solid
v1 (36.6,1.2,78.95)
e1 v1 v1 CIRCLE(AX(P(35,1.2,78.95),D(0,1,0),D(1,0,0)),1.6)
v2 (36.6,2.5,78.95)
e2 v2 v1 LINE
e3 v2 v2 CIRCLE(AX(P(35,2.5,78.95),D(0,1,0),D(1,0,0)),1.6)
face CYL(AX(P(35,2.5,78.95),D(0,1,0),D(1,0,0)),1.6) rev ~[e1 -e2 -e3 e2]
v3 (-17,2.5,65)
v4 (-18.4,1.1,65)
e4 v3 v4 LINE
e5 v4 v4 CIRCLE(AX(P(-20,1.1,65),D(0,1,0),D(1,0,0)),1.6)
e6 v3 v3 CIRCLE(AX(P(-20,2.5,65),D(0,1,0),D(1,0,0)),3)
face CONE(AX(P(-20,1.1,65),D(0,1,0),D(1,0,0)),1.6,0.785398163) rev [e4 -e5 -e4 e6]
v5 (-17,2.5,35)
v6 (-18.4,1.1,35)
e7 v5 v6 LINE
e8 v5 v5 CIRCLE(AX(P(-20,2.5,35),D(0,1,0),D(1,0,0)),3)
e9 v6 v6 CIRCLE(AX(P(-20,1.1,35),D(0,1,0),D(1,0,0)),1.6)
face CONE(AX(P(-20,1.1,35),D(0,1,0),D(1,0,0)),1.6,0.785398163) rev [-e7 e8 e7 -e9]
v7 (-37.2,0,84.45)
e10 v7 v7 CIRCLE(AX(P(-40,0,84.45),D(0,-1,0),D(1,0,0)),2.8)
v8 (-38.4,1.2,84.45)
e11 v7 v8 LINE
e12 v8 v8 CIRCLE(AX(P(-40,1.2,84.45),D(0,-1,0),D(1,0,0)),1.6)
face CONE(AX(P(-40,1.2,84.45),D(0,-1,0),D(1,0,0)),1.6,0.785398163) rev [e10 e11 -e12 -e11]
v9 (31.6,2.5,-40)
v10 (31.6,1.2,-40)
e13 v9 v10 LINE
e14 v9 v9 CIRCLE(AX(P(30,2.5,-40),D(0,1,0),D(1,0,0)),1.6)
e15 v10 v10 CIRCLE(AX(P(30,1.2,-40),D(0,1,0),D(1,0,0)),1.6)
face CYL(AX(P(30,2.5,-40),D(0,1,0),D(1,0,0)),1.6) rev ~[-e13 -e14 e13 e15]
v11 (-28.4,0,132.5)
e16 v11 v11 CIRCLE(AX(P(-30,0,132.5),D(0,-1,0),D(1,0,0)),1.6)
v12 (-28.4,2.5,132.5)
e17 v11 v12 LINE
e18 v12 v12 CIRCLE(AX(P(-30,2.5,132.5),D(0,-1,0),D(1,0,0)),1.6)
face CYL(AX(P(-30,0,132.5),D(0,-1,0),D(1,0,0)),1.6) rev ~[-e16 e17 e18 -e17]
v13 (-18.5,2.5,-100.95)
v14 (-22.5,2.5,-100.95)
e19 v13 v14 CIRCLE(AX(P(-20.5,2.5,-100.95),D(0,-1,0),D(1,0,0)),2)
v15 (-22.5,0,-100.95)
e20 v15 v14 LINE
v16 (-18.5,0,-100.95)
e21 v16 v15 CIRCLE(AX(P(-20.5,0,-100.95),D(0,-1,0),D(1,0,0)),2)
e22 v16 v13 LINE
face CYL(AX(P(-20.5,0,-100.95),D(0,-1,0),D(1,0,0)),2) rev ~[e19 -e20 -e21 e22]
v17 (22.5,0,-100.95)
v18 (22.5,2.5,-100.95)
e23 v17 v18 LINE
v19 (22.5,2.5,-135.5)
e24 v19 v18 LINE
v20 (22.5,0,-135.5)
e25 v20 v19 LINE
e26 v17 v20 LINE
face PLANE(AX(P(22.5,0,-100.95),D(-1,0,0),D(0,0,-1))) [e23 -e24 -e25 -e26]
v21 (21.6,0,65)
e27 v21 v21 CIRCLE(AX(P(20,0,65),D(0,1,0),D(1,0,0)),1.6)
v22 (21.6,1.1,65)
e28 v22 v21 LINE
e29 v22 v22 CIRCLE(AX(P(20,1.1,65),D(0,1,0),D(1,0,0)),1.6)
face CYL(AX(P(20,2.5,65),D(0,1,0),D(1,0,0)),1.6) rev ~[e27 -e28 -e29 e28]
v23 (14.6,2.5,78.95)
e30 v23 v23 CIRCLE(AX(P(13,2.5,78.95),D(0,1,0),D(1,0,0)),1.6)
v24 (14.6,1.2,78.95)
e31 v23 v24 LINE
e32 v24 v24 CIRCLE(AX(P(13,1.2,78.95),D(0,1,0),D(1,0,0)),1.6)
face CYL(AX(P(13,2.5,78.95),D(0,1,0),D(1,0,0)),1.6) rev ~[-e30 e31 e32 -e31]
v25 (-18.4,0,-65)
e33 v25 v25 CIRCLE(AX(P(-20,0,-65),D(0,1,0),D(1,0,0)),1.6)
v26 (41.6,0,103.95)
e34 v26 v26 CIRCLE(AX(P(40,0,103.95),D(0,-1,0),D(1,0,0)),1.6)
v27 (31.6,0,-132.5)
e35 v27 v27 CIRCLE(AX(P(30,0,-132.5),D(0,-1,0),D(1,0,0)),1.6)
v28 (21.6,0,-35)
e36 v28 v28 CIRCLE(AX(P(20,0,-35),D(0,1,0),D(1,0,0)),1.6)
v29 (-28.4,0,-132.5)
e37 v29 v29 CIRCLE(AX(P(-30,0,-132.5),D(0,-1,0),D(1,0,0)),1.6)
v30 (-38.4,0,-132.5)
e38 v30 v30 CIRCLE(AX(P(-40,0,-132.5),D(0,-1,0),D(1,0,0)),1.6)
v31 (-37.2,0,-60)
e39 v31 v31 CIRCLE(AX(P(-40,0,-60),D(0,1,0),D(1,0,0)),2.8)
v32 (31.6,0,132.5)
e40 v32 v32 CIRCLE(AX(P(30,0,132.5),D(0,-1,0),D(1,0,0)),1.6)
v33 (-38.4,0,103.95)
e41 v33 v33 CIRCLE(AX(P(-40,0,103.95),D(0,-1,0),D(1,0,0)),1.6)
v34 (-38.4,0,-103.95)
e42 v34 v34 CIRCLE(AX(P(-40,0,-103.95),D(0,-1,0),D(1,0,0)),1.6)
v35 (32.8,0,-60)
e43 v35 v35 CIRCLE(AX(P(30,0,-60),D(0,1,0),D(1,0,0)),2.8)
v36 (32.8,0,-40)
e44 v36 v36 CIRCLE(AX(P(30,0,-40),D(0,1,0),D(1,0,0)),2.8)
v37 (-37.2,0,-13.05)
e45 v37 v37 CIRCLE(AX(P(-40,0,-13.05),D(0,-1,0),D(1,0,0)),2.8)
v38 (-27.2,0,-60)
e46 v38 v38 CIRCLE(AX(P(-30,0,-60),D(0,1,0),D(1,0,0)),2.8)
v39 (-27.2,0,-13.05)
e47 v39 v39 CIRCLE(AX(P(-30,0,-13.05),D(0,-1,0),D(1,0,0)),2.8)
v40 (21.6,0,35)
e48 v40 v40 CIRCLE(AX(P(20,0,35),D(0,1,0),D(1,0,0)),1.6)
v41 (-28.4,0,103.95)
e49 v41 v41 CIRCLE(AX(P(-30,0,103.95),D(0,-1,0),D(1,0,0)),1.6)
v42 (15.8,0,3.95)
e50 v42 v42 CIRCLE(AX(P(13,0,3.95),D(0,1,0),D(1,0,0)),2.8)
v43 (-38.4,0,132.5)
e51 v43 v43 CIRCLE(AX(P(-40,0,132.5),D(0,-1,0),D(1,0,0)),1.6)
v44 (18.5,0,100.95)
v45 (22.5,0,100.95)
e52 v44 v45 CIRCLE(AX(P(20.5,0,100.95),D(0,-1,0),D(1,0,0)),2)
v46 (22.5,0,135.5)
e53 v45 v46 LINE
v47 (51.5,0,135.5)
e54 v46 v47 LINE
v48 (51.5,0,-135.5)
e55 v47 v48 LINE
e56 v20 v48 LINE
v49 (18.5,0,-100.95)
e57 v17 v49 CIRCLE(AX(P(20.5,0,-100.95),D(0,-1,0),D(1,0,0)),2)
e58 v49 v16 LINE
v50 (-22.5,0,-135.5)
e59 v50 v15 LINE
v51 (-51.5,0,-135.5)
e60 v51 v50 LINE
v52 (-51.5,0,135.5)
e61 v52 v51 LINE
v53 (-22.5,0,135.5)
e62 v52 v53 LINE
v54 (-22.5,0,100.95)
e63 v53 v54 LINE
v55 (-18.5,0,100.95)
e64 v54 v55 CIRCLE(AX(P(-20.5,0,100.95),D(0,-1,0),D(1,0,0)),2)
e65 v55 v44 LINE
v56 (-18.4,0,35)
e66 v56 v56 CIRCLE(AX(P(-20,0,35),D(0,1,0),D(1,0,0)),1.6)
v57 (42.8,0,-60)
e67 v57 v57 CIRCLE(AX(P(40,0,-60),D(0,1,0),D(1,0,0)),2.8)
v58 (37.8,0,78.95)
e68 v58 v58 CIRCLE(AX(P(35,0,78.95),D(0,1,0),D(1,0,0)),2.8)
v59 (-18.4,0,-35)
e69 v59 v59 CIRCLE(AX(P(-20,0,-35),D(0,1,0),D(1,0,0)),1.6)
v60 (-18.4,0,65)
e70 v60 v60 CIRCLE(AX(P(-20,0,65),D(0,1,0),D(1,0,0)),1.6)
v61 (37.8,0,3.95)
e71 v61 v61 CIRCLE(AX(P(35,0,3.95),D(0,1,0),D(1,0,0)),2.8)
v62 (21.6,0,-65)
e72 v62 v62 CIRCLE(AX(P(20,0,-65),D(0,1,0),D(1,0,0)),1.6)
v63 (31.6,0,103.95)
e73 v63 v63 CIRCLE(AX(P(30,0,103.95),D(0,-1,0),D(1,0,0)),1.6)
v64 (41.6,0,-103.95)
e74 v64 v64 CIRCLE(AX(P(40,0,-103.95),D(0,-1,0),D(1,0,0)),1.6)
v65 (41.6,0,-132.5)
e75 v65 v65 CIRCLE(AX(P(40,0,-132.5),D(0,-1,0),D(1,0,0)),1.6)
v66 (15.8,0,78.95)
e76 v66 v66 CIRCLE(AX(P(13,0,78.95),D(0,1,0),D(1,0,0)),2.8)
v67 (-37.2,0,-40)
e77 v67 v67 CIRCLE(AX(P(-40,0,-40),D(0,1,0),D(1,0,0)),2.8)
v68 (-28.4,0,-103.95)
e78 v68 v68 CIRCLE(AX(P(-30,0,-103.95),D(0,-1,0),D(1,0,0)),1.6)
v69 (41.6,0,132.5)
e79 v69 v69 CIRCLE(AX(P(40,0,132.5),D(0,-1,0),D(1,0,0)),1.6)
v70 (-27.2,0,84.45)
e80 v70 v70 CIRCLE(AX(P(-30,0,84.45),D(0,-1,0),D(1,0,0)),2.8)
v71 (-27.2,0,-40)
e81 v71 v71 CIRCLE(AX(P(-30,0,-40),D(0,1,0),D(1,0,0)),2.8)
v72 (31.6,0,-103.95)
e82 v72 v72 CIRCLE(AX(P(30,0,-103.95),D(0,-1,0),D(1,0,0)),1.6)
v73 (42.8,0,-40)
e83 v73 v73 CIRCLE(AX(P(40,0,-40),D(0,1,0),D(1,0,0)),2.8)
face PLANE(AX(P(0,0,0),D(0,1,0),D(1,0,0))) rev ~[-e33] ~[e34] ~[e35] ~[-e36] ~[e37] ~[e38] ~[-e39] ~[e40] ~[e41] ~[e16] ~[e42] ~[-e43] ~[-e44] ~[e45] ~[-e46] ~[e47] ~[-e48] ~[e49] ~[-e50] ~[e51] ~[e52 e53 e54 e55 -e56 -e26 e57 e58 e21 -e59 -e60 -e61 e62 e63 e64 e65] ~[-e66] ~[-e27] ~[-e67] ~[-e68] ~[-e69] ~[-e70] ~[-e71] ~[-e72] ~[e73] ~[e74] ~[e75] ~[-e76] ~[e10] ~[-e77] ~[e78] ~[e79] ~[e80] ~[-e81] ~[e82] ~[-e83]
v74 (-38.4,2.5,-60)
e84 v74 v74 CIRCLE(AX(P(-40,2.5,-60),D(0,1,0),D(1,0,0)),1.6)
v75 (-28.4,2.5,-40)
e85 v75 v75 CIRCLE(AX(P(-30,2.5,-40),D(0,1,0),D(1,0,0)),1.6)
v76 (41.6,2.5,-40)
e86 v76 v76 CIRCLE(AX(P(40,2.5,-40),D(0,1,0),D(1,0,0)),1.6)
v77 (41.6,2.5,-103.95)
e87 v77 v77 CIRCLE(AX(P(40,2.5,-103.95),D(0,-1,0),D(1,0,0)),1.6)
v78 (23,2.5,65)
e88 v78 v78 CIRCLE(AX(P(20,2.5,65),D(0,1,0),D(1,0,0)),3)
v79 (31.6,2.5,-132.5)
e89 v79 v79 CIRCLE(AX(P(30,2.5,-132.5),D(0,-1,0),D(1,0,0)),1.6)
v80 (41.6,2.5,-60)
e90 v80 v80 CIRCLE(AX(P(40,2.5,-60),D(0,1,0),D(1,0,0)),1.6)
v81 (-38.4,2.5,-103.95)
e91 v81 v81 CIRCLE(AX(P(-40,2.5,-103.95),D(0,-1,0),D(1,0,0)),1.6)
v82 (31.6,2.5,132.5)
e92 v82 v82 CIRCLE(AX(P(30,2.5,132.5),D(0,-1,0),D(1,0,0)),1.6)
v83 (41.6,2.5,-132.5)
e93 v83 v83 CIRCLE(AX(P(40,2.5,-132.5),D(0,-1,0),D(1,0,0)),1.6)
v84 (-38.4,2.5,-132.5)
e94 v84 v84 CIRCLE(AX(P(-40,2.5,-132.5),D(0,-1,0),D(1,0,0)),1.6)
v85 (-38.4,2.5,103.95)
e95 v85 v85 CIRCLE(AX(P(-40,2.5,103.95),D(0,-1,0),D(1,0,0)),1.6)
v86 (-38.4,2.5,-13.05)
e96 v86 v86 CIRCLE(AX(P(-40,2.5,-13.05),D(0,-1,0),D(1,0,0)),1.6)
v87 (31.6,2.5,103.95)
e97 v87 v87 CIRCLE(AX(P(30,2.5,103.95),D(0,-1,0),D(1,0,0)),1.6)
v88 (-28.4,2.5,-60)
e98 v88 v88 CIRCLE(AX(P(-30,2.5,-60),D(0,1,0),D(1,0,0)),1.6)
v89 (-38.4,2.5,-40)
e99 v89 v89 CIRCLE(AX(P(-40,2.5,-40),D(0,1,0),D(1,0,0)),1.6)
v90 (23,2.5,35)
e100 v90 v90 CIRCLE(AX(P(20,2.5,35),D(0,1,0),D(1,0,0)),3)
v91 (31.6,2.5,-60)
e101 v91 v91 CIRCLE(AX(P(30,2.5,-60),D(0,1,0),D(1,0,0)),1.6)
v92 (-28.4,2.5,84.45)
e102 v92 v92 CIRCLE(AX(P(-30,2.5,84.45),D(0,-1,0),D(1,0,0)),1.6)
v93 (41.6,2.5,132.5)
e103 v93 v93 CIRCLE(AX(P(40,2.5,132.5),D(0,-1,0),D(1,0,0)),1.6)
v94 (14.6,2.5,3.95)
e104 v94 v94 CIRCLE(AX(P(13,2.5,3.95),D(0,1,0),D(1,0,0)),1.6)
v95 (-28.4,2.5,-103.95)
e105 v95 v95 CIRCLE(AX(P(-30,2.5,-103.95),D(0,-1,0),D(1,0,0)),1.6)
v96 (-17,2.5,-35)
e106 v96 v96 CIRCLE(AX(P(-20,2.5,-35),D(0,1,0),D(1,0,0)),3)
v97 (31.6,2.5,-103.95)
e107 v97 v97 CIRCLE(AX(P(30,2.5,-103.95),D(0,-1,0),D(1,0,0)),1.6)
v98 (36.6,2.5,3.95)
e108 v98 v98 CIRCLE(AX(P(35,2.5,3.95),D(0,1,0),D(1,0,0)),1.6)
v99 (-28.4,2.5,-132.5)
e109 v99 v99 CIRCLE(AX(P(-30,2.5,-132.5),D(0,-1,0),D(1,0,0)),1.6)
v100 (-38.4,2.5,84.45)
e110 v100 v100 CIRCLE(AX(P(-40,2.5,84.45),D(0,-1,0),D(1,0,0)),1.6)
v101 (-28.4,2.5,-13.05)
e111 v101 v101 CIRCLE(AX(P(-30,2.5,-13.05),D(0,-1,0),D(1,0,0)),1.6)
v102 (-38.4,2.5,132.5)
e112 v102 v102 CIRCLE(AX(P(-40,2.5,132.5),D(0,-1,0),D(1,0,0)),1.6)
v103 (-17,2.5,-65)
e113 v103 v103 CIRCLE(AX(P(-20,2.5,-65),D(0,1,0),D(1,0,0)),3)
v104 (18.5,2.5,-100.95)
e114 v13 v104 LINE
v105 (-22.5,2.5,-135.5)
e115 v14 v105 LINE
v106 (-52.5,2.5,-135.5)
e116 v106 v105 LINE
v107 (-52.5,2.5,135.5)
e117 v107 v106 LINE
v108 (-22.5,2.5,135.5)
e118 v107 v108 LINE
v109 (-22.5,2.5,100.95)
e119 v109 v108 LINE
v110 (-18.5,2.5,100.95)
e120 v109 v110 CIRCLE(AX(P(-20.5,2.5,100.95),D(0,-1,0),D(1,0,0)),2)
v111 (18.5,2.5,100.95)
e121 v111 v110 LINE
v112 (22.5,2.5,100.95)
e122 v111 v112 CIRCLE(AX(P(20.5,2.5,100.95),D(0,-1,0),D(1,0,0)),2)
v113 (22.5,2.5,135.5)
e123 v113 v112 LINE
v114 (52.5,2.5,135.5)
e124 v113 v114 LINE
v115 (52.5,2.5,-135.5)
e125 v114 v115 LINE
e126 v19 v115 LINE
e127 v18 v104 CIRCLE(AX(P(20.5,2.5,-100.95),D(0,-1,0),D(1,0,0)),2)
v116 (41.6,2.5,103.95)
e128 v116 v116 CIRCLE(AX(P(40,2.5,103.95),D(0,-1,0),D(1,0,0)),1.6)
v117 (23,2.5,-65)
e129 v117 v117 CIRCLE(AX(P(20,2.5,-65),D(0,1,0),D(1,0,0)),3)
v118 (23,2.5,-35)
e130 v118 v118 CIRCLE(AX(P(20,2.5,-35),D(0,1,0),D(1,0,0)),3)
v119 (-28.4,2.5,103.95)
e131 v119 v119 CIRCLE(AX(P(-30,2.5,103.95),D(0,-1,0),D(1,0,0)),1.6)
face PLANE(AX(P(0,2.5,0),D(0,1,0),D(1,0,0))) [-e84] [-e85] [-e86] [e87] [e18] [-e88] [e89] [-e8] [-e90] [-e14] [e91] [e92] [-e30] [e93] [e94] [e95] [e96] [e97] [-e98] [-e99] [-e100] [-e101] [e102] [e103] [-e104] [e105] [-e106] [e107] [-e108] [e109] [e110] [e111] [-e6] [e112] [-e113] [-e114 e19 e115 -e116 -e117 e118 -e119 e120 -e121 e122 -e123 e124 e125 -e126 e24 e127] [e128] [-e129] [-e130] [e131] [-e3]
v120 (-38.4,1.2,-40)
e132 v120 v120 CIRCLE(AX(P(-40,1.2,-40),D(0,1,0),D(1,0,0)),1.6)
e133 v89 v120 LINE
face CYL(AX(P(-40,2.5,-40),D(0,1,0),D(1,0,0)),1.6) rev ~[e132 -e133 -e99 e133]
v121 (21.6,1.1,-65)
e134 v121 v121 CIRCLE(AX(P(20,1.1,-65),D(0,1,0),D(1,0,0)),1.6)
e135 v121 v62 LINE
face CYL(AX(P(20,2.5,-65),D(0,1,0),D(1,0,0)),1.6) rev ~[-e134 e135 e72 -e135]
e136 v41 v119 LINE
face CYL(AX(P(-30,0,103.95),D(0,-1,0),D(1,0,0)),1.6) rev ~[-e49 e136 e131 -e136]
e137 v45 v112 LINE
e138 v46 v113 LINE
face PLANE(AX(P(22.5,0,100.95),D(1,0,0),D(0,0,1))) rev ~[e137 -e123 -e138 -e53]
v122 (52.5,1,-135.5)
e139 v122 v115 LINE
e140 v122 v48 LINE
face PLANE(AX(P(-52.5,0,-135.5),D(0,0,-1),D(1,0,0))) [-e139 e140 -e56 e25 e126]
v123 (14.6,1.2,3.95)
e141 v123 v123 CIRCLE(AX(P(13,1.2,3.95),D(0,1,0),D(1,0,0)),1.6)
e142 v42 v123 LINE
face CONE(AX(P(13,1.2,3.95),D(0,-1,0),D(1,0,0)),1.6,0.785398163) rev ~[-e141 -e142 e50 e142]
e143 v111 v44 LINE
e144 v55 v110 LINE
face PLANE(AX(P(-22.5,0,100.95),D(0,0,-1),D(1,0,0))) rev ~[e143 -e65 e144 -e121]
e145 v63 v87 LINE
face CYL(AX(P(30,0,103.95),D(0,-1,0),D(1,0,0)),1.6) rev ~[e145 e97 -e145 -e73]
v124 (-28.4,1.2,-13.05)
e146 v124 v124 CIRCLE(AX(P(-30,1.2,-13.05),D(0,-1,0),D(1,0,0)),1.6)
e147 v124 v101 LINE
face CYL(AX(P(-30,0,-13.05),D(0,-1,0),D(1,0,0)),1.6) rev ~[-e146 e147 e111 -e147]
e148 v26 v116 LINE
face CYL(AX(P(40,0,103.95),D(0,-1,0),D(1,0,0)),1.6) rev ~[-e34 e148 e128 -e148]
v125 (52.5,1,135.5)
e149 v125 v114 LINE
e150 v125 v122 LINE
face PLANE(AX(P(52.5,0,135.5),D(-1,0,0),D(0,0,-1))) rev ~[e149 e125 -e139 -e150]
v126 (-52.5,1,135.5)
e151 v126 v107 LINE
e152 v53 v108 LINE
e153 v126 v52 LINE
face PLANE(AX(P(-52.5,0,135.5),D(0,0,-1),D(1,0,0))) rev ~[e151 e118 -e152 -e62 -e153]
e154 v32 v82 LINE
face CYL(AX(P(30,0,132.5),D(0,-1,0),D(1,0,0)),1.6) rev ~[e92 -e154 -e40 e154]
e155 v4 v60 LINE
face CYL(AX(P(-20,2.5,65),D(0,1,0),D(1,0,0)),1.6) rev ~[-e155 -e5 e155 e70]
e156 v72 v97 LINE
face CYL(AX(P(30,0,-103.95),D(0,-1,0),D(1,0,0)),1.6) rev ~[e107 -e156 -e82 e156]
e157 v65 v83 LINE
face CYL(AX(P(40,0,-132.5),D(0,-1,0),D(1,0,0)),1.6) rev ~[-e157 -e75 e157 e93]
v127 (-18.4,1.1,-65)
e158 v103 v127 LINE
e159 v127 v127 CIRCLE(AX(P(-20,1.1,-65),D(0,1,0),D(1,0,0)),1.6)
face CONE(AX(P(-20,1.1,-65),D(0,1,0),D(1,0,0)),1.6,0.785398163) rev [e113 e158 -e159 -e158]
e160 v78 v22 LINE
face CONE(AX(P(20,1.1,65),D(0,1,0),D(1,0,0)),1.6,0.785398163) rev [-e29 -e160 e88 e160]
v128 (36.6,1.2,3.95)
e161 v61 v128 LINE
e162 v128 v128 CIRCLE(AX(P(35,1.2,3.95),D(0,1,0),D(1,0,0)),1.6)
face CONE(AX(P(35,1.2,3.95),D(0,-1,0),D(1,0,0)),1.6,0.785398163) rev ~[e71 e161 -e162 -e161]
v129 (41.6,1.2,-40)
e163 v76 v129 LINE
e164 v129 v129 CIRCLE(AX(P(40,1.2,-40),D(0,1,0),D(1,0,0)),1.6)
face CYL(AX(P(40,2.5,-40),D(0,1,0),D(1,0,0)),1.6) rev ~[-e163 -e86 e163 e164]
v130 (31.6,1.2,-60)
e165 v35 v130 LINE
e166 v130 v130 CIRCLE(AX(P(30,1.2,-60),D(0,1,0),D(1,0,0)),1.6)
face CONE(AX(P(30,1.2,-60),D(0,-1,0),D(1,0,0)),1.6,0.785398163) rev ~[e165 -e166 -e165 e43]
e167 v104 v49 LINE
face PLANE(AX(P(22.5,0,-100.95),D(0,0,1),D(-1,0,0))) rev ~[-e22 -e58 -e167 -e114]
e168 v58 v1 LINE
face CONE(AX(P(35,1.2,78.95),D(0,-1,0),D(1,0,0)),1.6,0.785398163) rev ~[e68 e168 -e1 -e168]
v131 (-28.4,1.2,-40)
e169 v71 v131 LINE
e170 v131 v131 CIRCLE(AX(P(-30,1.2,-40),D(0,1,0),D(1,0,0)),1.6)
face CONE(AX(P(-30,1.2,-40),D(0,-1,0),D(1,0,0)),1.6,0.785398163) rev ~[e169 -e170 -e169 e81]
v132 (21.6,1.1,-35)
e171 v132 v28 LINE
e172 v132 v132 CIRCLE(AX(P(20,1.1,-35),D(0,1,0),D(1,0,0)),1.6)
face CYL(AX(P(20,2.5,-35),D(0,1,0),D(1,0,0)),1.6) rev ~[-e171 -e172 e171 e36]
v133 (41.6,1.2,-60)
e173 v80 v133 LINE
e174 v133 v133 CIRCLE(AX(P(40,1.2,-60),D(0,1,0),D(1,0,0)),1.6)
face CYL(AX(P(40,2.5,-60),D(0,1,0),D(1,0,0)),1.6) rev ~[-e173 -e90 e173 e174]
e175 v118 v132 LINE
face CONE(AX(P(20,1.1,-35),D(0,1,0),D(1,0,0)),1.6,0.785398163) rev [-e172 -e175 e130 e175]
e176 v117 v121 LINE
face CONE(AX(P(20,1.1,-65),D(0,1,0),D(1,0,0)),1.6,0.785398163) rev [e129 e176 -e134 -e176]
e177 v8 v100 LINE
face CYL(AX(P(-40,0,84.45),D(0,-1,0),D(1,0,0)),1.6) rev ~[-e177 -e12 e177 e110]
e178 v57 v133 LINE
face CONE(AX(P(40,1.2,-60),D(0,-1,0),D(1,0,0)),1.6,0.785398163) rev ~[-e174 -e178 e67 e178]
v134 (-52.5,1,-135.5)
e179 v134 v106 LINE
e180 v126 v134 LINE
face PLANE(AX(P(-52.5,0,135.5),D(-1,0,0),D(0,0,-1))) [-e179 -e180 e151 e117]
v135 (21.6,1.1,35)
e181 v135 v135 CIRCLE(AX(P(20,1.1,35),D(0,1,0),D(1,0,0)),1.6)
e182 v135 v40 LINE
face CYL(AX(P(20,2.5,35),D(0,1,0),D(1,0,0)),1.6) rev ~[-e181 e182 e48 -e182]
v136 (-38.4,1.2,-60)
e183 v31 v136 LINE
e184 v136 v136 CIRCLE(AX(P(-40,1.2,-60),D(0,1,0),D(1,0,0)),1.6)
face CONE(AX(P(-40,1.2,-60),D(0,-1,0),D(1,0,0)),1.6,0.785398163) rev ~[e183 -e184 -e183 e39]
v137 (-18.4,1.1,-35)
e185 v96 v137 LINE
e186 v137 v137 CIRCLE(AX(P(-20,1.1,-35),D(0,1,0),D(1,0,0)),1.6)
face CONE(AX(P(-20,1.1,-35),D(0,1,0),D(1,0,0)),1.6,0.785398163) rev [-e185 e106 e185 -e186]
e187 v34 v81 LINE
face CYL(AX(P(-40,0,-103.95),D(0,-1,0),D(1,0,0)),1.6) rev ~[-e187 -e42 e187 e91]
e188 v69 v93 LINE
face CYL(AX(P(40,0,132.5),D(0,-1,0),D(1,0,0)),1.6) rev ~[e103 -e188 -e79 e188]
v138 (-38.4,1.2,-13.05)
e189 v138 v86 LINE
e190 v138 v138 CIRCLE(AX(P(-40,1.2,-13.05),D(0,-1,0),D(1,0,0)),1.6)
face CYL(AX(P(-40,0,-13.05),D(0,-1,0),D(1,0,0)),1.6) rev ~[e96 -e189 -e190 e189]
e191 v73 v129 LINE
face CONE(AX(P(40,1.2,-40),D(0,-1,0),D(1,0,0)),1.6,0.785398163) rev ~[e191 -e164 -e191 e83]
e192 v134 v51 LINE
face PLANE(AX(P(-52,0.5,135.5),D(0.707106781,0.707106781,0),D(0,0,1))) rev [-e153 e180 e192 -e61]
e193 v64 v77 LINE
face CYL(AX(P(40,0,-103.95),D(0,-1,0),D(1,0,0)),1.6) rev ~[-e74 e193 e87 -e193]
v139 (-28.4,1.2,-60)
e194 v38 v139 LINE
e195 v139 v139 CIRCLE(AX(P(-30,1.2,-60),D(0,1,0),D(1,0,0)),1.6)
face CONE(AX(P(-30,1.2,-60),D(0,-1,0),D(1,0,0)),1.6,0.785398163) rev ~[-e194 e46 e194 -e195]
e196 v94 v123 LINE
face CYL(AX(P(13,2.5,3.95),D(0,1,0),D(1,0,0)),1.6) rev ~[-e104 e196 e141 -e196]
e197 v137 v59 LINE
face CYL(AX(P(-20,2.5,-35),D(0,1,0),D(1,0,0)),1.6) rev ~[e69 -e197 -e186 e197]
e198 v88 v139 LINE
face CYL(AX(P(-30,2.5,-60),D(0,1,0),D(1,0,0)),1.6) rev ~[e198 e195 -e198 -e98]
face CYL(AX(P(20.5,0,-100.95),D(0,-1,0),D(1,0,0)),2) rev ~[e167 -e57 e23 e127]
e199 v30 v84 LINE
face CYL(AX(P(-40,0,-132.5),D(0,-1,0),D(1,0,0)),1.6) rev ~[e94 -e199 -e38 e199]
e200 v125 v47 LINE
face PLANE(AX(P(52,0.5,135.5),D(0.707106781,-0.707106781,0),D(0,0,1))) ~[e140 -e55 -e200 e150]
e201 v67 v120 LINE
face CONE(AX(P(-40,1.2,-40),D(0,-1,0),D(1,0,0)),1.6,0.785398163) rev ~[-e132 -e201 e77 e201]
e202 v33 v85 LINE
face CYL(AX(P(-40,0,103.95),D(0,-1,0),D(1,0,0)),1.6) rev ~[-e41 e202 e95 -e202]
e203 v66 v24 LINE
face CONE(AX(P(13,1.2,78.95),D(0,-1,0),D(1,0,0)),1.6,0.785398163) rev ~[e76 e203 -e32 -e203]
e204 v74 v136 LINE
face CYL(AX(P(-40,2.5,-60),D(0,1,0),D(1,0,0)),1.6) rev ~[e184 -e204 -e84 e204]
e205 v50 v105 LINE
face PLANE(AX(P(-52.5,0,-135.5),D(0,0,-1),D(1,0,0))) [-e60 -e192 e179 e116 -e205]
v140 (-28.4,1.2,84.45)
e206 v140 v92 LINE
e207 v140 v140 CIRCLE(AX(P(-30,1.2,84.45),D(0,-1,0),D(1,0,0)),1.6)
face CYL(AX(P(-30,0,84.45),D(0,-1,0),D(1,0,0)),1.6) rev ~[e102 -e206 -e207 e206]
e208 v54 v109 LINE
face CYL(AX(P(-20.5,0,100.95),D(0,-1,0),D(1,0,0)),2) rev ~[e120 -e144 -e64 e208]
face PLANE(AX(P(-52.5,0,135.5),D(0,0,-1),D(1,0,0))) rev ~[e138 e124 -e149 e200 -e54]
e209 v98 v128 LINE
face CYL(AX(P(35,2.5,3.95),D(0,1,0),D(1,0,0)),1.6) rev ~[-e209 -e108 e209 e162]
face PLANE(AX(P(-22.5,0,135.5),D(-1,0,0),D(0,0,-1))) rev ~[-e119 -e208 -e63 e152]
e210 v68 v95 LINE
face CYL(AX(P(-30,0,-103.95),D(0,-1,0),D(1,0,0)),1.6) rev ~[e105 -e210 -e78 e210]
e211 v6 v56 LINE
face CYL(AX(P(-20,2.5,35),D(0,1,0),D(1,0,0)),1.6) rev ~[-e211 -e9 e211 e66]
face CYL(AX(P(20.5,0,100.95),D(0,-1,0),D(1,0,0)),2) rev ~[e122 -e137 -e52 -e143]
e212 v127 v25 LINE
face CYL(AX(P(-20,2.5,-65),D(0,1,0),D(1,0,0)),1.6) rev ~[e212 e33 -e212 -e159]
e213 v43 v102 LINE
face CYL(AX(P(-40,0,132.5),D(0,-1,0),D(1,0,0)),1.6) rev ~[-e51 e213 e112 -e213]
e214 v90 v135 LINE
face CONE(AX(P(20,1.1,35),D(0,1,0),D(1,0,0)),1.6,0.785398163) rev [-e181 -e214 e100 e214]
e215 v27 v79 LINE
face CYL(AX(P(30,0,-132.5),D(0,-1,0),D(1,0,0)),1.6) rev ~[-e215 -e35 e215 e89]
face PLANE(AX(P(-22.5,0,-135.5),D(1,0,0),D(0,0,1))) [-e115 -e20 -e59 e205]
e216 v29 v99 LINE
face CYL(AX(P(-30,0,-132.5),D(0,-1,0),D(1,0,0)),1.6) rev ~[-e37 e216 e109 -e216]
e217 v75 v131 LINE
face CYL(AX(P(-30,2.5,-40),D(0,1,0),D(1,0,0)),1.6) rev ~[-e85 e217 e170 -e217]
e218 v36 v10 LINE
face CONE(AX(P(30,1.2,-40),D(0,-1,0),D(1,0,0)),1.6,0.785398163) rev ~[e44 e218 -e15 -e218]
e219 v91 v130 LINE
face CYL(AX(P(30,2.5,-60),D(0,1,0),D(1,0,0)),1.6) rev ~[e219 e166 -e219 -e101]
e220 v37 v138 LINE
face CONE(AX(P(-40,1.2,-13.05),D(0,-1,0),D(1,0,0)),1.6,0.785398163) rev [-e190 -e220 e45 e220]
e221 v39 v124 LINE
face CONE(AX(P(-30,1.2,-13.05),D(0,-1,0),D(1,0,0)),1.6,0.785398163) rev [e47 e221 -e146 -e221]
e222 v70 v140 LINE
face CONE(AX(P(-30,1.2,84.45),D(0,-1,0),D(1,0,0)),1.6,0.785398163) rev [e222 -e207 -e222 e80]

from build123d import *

# Parameters (mm, degrees)
SKETCH_1_W          = 105
SKETCH_1_H          = 271
EXTRUDE_1_DEPTH     = 2.5
SKETCH_2_R          = 1.6
CUT_EXTRUDE_1_DEPTH = 10
CHAMFER_4_SIZE      = 1.4
CHAMFER_5_SIZE      = 1
CUT_EXTRUDE_2_DEPTH = 10
SKETCH_6_R          = 1.6
CUT_EXTRUDE_3_DEPTH = 10
SKETCH_7_R          = 1.6
CUT_EXTRUDE_4_DEPTH = 10
SKETCH_8_R          = 1.6
CUT_EXTRUDE_5_DEPTH = 10
SKETCH_9_R          = 2
CUT_EXTRUDE_6_DEPTH = 10
CHAMFER_3_SIZE      = 1.2


with BuildPart() as part:
    # 草图1 → 凸台-拉伸1 (new body)
    with BuildSketch(Plane(origin=(0, 0, 0), x_dir=(1, 0, 0), z_dir=(0, 1, 0))):
        Rectangle(SKETCH_1_W, SKETCH_1_H)
    extrude(amount=EXTRUDE_1_DEPTH)

    # 草图2 → 切除-拉伸1 (cut)
    with BuildSketch(Plane(origin=(0, 2.5, 0), x_dir=(1, 0, 0), z_dir=(0, 1, 0))):
        with Locations((35, -3.95)):
            Circle(SKETCH_2_R)
        with Locations((13.000000181, -3.95)):
            Circle(SKETCH_2_R)
        with Locations((35, -78.95)):
            Circle(SKETCH_2_R)
        with Locations((13.000000181, -78.95)):
            Circle(SKETCH_2_R)
        with Locations((20, -35)):
            Circle(SKETCH_2_R)
        with Locations((-20, -35)):
            Circle(SKETCH_2_R)
        with Locations((20, -65)):
            Circle(SKETCH_2_R)
        with Locations((-20, -65)):
            Circle(SKETCH_2_R)
        with Locations((-20, 35)):
            Circle(SKETCH_2_R)
        with Locations((20, 35)):
            Circle(SKETCH_2_R)
        with Locations((-20, 65)):
            Circle(SKETCH_2_R)
        with Locations((20, 65)):
            Circle(SKETCH_2_R)
    extrude(amount=-CUT_EXTRUDE_1_DEPTH, mode=Mode.SUBTRACT)

    # 倒角4
    chamfer_4_edges = [part.edges().sort_by_distance(p)[0] for p in [
        (-21.6, 2.5, 35),
        (18.4, 2.5, 65),
        (-21.6, 2.5, 65),
        (-21.6, 2.5, -35),
        (18.4, 2.5, 35),
        (18.4, 2.5, -65),
        (-21.6, 2.5, -65),
        (18.4, 2.5, -35),
    ]]
    chamfer(chamfer_4_edges, length=CHAMFER_4_SIZE)

    # 倒角5
    chamfer_5_edges = [part.edges().sort_by_distance(p)[0] for p in [
        (-52.5, 0, 0),
        (52.5, 0, 0),
    ]]
    chamfer(chamfer_5_edges, length=CHAMFER_5_SIZE)

    # 草图4 → 切除-拉伸2 (cut)
    with BuildSketch(Plane.XZ):
        Polygon((0, 100.95), (22.5, 100.95), (22.5, 135.5), (-22.5, 135.5), (-22.5, 100.95), align=None)
        Polygon((-22.5, -100.95), (0, -100.95), (22.5, -100.95), (22.5, -135.5), (-22.5, -135.5), align=None)
    extrude(amount=-CUT_EXTRUDE_2_DEPTH, mode=Mode.SUBTRACT)

    # 草图6 → 切除-拉伸3 (cut)
    with BuildSketch(Plane.XZ):
        with Locations((-40, 132.5)):
            Circle(SKETCH_6_R)
        with Locations((-30, 132.5)):
            Circle(SKETCH_6_R)
        with Locations((-30, 103.95)):
            Circle(SKETCH_6_R)
        with Locations((-40, 103.95)):
            Circle(SKETCH_6_R)
        with Locations((40, 103.95)):
            Circle(SKETCH_6_R)
        with Locations((30, 103.95)):
            Circle(SKETCH_6_R)
        with Locations((30, 132.5)):
            Circle(SKETCH_6_R)
        with Locations((40, 132.5)):
            Circle(SKETCH_6_R)
        with Locations((40, -132.5)):
            Circle(SKETCH_6_R)
        with Locations((30, -132.5)):
            Circle(SKETCH_6_R)
        with Locations((30, -103.95)):
            Circle(SKETCH_6_R)
        with Locations((40, -103.95)):
            Circle(SKETCH_6_R)
        with Locations((-40, -103.95)):
            Circle(SKETCH_6_R)
        with Locations((-30, -103.95)):
            Circle(SKETCH_6_R)
        with Locations((-30, -132.5)):
            Circle(SKETCH_6_R)
        with Locations((-40, -132.5)):
            Circle(SKETCH_6_R)
    extrude(amount=-CUT_EXTRUDE_3_DEPTH, mode=Mode.SUBTRACT)

    # 草图7 → 切除-拉伸4 (cut)
    with BuildSketch(Plane(origin=(0, 2.5, 0), x_dir=(1, 0, 0), z_dir=(0, 1, 0))):
        with Locations((-40, 60)):
            Circle(SKETCH_7_R)
        with Locations((-30, 60)):
            Circle(SKETCH_7_R)
        with Locations((30, 60)):
            Circle(SKETCH_7_R)
        with Locations((40, 60)):
            Circle(SKETCH_7_R)
        with Locations((-40, 40)):
            Circle(SKETCH_7_R)
        with Locations((-30, 40)):
            Circle(SKETCH_7_R)
        with Locations((30, 40)):
            Circle(SKETCH_7_R)
        with Locations((40, 40)):
            Circle(SKETCH_7_R)
    extrude(amount=-CUT_EXTRUDE_4_DEPTH, mode=Mode.SUBTRACT)

    # 草图8 → 切除-拉伸5 (cut)
    with BuildSketch(Plane.XZ):
        with Locations((-40, 84.45)):
            Circle(SKETCH_8_R)
        with Locations((-30, 84.45)):
            Circle(SKETCH_8_R)
        with Locations((-30, -13.05)):
            Circle(SKETCH_8_R)
        with Locations((-40, -13.05)):
            Circle(SKETCH_8_R)
    extrude(amount=-CUT_EXTRUDE_5_DEPTH, mode=Mode.SUBTRACT)

    # 草图9 → 切除-拉伸6 (cut)
    with BuildSketch(Plane.XZ):
        with Locations((20.5, 100.95)):
            Circle(SKETCH_9_R)
        with Locations((-20.5, 100.95)):
            Circle(SKETCH_9_R)
        with Locations((-20.5, -100.95)):
            Circle(SKETCH_9_R)
        with Locations((20.5, -100.95)):
            Circle(SKETCH_9_R)
    extrude(amount=-CUT_EXTRUDE_6_DEPTH, mode=Mode.SUBTRACT)

    # 倒角3
    chamfer_3_edges = [part.edges().sort_by_distance(p)[0] for p in [
        (28.4, 0, -40),
        (-31.6, 0, -60),
        (38.4, 0, -60),
        (-41.6, 0, -60),
        (-31.6, 0, -40),
        (38.4, 0, -40),
        (-41.6, 0, -40),
        (28.4, 0, -60),
        (-41.6, 0, -13.05),
        (-31.6, 0, -13.05),
        (-31.6, 0, 84.45),
        (-41.6, 0, 84.45),
        (11.400000181, 0, 3.95),
        (33.4, 0, 78.95),
        (11.400000181, 0, 78.95),
        (33.4, 0, 3.95),
    ]]
    chamfer(chamfer_3_edges, length=CHAMFER_3_SIZE)


solid = part.part
